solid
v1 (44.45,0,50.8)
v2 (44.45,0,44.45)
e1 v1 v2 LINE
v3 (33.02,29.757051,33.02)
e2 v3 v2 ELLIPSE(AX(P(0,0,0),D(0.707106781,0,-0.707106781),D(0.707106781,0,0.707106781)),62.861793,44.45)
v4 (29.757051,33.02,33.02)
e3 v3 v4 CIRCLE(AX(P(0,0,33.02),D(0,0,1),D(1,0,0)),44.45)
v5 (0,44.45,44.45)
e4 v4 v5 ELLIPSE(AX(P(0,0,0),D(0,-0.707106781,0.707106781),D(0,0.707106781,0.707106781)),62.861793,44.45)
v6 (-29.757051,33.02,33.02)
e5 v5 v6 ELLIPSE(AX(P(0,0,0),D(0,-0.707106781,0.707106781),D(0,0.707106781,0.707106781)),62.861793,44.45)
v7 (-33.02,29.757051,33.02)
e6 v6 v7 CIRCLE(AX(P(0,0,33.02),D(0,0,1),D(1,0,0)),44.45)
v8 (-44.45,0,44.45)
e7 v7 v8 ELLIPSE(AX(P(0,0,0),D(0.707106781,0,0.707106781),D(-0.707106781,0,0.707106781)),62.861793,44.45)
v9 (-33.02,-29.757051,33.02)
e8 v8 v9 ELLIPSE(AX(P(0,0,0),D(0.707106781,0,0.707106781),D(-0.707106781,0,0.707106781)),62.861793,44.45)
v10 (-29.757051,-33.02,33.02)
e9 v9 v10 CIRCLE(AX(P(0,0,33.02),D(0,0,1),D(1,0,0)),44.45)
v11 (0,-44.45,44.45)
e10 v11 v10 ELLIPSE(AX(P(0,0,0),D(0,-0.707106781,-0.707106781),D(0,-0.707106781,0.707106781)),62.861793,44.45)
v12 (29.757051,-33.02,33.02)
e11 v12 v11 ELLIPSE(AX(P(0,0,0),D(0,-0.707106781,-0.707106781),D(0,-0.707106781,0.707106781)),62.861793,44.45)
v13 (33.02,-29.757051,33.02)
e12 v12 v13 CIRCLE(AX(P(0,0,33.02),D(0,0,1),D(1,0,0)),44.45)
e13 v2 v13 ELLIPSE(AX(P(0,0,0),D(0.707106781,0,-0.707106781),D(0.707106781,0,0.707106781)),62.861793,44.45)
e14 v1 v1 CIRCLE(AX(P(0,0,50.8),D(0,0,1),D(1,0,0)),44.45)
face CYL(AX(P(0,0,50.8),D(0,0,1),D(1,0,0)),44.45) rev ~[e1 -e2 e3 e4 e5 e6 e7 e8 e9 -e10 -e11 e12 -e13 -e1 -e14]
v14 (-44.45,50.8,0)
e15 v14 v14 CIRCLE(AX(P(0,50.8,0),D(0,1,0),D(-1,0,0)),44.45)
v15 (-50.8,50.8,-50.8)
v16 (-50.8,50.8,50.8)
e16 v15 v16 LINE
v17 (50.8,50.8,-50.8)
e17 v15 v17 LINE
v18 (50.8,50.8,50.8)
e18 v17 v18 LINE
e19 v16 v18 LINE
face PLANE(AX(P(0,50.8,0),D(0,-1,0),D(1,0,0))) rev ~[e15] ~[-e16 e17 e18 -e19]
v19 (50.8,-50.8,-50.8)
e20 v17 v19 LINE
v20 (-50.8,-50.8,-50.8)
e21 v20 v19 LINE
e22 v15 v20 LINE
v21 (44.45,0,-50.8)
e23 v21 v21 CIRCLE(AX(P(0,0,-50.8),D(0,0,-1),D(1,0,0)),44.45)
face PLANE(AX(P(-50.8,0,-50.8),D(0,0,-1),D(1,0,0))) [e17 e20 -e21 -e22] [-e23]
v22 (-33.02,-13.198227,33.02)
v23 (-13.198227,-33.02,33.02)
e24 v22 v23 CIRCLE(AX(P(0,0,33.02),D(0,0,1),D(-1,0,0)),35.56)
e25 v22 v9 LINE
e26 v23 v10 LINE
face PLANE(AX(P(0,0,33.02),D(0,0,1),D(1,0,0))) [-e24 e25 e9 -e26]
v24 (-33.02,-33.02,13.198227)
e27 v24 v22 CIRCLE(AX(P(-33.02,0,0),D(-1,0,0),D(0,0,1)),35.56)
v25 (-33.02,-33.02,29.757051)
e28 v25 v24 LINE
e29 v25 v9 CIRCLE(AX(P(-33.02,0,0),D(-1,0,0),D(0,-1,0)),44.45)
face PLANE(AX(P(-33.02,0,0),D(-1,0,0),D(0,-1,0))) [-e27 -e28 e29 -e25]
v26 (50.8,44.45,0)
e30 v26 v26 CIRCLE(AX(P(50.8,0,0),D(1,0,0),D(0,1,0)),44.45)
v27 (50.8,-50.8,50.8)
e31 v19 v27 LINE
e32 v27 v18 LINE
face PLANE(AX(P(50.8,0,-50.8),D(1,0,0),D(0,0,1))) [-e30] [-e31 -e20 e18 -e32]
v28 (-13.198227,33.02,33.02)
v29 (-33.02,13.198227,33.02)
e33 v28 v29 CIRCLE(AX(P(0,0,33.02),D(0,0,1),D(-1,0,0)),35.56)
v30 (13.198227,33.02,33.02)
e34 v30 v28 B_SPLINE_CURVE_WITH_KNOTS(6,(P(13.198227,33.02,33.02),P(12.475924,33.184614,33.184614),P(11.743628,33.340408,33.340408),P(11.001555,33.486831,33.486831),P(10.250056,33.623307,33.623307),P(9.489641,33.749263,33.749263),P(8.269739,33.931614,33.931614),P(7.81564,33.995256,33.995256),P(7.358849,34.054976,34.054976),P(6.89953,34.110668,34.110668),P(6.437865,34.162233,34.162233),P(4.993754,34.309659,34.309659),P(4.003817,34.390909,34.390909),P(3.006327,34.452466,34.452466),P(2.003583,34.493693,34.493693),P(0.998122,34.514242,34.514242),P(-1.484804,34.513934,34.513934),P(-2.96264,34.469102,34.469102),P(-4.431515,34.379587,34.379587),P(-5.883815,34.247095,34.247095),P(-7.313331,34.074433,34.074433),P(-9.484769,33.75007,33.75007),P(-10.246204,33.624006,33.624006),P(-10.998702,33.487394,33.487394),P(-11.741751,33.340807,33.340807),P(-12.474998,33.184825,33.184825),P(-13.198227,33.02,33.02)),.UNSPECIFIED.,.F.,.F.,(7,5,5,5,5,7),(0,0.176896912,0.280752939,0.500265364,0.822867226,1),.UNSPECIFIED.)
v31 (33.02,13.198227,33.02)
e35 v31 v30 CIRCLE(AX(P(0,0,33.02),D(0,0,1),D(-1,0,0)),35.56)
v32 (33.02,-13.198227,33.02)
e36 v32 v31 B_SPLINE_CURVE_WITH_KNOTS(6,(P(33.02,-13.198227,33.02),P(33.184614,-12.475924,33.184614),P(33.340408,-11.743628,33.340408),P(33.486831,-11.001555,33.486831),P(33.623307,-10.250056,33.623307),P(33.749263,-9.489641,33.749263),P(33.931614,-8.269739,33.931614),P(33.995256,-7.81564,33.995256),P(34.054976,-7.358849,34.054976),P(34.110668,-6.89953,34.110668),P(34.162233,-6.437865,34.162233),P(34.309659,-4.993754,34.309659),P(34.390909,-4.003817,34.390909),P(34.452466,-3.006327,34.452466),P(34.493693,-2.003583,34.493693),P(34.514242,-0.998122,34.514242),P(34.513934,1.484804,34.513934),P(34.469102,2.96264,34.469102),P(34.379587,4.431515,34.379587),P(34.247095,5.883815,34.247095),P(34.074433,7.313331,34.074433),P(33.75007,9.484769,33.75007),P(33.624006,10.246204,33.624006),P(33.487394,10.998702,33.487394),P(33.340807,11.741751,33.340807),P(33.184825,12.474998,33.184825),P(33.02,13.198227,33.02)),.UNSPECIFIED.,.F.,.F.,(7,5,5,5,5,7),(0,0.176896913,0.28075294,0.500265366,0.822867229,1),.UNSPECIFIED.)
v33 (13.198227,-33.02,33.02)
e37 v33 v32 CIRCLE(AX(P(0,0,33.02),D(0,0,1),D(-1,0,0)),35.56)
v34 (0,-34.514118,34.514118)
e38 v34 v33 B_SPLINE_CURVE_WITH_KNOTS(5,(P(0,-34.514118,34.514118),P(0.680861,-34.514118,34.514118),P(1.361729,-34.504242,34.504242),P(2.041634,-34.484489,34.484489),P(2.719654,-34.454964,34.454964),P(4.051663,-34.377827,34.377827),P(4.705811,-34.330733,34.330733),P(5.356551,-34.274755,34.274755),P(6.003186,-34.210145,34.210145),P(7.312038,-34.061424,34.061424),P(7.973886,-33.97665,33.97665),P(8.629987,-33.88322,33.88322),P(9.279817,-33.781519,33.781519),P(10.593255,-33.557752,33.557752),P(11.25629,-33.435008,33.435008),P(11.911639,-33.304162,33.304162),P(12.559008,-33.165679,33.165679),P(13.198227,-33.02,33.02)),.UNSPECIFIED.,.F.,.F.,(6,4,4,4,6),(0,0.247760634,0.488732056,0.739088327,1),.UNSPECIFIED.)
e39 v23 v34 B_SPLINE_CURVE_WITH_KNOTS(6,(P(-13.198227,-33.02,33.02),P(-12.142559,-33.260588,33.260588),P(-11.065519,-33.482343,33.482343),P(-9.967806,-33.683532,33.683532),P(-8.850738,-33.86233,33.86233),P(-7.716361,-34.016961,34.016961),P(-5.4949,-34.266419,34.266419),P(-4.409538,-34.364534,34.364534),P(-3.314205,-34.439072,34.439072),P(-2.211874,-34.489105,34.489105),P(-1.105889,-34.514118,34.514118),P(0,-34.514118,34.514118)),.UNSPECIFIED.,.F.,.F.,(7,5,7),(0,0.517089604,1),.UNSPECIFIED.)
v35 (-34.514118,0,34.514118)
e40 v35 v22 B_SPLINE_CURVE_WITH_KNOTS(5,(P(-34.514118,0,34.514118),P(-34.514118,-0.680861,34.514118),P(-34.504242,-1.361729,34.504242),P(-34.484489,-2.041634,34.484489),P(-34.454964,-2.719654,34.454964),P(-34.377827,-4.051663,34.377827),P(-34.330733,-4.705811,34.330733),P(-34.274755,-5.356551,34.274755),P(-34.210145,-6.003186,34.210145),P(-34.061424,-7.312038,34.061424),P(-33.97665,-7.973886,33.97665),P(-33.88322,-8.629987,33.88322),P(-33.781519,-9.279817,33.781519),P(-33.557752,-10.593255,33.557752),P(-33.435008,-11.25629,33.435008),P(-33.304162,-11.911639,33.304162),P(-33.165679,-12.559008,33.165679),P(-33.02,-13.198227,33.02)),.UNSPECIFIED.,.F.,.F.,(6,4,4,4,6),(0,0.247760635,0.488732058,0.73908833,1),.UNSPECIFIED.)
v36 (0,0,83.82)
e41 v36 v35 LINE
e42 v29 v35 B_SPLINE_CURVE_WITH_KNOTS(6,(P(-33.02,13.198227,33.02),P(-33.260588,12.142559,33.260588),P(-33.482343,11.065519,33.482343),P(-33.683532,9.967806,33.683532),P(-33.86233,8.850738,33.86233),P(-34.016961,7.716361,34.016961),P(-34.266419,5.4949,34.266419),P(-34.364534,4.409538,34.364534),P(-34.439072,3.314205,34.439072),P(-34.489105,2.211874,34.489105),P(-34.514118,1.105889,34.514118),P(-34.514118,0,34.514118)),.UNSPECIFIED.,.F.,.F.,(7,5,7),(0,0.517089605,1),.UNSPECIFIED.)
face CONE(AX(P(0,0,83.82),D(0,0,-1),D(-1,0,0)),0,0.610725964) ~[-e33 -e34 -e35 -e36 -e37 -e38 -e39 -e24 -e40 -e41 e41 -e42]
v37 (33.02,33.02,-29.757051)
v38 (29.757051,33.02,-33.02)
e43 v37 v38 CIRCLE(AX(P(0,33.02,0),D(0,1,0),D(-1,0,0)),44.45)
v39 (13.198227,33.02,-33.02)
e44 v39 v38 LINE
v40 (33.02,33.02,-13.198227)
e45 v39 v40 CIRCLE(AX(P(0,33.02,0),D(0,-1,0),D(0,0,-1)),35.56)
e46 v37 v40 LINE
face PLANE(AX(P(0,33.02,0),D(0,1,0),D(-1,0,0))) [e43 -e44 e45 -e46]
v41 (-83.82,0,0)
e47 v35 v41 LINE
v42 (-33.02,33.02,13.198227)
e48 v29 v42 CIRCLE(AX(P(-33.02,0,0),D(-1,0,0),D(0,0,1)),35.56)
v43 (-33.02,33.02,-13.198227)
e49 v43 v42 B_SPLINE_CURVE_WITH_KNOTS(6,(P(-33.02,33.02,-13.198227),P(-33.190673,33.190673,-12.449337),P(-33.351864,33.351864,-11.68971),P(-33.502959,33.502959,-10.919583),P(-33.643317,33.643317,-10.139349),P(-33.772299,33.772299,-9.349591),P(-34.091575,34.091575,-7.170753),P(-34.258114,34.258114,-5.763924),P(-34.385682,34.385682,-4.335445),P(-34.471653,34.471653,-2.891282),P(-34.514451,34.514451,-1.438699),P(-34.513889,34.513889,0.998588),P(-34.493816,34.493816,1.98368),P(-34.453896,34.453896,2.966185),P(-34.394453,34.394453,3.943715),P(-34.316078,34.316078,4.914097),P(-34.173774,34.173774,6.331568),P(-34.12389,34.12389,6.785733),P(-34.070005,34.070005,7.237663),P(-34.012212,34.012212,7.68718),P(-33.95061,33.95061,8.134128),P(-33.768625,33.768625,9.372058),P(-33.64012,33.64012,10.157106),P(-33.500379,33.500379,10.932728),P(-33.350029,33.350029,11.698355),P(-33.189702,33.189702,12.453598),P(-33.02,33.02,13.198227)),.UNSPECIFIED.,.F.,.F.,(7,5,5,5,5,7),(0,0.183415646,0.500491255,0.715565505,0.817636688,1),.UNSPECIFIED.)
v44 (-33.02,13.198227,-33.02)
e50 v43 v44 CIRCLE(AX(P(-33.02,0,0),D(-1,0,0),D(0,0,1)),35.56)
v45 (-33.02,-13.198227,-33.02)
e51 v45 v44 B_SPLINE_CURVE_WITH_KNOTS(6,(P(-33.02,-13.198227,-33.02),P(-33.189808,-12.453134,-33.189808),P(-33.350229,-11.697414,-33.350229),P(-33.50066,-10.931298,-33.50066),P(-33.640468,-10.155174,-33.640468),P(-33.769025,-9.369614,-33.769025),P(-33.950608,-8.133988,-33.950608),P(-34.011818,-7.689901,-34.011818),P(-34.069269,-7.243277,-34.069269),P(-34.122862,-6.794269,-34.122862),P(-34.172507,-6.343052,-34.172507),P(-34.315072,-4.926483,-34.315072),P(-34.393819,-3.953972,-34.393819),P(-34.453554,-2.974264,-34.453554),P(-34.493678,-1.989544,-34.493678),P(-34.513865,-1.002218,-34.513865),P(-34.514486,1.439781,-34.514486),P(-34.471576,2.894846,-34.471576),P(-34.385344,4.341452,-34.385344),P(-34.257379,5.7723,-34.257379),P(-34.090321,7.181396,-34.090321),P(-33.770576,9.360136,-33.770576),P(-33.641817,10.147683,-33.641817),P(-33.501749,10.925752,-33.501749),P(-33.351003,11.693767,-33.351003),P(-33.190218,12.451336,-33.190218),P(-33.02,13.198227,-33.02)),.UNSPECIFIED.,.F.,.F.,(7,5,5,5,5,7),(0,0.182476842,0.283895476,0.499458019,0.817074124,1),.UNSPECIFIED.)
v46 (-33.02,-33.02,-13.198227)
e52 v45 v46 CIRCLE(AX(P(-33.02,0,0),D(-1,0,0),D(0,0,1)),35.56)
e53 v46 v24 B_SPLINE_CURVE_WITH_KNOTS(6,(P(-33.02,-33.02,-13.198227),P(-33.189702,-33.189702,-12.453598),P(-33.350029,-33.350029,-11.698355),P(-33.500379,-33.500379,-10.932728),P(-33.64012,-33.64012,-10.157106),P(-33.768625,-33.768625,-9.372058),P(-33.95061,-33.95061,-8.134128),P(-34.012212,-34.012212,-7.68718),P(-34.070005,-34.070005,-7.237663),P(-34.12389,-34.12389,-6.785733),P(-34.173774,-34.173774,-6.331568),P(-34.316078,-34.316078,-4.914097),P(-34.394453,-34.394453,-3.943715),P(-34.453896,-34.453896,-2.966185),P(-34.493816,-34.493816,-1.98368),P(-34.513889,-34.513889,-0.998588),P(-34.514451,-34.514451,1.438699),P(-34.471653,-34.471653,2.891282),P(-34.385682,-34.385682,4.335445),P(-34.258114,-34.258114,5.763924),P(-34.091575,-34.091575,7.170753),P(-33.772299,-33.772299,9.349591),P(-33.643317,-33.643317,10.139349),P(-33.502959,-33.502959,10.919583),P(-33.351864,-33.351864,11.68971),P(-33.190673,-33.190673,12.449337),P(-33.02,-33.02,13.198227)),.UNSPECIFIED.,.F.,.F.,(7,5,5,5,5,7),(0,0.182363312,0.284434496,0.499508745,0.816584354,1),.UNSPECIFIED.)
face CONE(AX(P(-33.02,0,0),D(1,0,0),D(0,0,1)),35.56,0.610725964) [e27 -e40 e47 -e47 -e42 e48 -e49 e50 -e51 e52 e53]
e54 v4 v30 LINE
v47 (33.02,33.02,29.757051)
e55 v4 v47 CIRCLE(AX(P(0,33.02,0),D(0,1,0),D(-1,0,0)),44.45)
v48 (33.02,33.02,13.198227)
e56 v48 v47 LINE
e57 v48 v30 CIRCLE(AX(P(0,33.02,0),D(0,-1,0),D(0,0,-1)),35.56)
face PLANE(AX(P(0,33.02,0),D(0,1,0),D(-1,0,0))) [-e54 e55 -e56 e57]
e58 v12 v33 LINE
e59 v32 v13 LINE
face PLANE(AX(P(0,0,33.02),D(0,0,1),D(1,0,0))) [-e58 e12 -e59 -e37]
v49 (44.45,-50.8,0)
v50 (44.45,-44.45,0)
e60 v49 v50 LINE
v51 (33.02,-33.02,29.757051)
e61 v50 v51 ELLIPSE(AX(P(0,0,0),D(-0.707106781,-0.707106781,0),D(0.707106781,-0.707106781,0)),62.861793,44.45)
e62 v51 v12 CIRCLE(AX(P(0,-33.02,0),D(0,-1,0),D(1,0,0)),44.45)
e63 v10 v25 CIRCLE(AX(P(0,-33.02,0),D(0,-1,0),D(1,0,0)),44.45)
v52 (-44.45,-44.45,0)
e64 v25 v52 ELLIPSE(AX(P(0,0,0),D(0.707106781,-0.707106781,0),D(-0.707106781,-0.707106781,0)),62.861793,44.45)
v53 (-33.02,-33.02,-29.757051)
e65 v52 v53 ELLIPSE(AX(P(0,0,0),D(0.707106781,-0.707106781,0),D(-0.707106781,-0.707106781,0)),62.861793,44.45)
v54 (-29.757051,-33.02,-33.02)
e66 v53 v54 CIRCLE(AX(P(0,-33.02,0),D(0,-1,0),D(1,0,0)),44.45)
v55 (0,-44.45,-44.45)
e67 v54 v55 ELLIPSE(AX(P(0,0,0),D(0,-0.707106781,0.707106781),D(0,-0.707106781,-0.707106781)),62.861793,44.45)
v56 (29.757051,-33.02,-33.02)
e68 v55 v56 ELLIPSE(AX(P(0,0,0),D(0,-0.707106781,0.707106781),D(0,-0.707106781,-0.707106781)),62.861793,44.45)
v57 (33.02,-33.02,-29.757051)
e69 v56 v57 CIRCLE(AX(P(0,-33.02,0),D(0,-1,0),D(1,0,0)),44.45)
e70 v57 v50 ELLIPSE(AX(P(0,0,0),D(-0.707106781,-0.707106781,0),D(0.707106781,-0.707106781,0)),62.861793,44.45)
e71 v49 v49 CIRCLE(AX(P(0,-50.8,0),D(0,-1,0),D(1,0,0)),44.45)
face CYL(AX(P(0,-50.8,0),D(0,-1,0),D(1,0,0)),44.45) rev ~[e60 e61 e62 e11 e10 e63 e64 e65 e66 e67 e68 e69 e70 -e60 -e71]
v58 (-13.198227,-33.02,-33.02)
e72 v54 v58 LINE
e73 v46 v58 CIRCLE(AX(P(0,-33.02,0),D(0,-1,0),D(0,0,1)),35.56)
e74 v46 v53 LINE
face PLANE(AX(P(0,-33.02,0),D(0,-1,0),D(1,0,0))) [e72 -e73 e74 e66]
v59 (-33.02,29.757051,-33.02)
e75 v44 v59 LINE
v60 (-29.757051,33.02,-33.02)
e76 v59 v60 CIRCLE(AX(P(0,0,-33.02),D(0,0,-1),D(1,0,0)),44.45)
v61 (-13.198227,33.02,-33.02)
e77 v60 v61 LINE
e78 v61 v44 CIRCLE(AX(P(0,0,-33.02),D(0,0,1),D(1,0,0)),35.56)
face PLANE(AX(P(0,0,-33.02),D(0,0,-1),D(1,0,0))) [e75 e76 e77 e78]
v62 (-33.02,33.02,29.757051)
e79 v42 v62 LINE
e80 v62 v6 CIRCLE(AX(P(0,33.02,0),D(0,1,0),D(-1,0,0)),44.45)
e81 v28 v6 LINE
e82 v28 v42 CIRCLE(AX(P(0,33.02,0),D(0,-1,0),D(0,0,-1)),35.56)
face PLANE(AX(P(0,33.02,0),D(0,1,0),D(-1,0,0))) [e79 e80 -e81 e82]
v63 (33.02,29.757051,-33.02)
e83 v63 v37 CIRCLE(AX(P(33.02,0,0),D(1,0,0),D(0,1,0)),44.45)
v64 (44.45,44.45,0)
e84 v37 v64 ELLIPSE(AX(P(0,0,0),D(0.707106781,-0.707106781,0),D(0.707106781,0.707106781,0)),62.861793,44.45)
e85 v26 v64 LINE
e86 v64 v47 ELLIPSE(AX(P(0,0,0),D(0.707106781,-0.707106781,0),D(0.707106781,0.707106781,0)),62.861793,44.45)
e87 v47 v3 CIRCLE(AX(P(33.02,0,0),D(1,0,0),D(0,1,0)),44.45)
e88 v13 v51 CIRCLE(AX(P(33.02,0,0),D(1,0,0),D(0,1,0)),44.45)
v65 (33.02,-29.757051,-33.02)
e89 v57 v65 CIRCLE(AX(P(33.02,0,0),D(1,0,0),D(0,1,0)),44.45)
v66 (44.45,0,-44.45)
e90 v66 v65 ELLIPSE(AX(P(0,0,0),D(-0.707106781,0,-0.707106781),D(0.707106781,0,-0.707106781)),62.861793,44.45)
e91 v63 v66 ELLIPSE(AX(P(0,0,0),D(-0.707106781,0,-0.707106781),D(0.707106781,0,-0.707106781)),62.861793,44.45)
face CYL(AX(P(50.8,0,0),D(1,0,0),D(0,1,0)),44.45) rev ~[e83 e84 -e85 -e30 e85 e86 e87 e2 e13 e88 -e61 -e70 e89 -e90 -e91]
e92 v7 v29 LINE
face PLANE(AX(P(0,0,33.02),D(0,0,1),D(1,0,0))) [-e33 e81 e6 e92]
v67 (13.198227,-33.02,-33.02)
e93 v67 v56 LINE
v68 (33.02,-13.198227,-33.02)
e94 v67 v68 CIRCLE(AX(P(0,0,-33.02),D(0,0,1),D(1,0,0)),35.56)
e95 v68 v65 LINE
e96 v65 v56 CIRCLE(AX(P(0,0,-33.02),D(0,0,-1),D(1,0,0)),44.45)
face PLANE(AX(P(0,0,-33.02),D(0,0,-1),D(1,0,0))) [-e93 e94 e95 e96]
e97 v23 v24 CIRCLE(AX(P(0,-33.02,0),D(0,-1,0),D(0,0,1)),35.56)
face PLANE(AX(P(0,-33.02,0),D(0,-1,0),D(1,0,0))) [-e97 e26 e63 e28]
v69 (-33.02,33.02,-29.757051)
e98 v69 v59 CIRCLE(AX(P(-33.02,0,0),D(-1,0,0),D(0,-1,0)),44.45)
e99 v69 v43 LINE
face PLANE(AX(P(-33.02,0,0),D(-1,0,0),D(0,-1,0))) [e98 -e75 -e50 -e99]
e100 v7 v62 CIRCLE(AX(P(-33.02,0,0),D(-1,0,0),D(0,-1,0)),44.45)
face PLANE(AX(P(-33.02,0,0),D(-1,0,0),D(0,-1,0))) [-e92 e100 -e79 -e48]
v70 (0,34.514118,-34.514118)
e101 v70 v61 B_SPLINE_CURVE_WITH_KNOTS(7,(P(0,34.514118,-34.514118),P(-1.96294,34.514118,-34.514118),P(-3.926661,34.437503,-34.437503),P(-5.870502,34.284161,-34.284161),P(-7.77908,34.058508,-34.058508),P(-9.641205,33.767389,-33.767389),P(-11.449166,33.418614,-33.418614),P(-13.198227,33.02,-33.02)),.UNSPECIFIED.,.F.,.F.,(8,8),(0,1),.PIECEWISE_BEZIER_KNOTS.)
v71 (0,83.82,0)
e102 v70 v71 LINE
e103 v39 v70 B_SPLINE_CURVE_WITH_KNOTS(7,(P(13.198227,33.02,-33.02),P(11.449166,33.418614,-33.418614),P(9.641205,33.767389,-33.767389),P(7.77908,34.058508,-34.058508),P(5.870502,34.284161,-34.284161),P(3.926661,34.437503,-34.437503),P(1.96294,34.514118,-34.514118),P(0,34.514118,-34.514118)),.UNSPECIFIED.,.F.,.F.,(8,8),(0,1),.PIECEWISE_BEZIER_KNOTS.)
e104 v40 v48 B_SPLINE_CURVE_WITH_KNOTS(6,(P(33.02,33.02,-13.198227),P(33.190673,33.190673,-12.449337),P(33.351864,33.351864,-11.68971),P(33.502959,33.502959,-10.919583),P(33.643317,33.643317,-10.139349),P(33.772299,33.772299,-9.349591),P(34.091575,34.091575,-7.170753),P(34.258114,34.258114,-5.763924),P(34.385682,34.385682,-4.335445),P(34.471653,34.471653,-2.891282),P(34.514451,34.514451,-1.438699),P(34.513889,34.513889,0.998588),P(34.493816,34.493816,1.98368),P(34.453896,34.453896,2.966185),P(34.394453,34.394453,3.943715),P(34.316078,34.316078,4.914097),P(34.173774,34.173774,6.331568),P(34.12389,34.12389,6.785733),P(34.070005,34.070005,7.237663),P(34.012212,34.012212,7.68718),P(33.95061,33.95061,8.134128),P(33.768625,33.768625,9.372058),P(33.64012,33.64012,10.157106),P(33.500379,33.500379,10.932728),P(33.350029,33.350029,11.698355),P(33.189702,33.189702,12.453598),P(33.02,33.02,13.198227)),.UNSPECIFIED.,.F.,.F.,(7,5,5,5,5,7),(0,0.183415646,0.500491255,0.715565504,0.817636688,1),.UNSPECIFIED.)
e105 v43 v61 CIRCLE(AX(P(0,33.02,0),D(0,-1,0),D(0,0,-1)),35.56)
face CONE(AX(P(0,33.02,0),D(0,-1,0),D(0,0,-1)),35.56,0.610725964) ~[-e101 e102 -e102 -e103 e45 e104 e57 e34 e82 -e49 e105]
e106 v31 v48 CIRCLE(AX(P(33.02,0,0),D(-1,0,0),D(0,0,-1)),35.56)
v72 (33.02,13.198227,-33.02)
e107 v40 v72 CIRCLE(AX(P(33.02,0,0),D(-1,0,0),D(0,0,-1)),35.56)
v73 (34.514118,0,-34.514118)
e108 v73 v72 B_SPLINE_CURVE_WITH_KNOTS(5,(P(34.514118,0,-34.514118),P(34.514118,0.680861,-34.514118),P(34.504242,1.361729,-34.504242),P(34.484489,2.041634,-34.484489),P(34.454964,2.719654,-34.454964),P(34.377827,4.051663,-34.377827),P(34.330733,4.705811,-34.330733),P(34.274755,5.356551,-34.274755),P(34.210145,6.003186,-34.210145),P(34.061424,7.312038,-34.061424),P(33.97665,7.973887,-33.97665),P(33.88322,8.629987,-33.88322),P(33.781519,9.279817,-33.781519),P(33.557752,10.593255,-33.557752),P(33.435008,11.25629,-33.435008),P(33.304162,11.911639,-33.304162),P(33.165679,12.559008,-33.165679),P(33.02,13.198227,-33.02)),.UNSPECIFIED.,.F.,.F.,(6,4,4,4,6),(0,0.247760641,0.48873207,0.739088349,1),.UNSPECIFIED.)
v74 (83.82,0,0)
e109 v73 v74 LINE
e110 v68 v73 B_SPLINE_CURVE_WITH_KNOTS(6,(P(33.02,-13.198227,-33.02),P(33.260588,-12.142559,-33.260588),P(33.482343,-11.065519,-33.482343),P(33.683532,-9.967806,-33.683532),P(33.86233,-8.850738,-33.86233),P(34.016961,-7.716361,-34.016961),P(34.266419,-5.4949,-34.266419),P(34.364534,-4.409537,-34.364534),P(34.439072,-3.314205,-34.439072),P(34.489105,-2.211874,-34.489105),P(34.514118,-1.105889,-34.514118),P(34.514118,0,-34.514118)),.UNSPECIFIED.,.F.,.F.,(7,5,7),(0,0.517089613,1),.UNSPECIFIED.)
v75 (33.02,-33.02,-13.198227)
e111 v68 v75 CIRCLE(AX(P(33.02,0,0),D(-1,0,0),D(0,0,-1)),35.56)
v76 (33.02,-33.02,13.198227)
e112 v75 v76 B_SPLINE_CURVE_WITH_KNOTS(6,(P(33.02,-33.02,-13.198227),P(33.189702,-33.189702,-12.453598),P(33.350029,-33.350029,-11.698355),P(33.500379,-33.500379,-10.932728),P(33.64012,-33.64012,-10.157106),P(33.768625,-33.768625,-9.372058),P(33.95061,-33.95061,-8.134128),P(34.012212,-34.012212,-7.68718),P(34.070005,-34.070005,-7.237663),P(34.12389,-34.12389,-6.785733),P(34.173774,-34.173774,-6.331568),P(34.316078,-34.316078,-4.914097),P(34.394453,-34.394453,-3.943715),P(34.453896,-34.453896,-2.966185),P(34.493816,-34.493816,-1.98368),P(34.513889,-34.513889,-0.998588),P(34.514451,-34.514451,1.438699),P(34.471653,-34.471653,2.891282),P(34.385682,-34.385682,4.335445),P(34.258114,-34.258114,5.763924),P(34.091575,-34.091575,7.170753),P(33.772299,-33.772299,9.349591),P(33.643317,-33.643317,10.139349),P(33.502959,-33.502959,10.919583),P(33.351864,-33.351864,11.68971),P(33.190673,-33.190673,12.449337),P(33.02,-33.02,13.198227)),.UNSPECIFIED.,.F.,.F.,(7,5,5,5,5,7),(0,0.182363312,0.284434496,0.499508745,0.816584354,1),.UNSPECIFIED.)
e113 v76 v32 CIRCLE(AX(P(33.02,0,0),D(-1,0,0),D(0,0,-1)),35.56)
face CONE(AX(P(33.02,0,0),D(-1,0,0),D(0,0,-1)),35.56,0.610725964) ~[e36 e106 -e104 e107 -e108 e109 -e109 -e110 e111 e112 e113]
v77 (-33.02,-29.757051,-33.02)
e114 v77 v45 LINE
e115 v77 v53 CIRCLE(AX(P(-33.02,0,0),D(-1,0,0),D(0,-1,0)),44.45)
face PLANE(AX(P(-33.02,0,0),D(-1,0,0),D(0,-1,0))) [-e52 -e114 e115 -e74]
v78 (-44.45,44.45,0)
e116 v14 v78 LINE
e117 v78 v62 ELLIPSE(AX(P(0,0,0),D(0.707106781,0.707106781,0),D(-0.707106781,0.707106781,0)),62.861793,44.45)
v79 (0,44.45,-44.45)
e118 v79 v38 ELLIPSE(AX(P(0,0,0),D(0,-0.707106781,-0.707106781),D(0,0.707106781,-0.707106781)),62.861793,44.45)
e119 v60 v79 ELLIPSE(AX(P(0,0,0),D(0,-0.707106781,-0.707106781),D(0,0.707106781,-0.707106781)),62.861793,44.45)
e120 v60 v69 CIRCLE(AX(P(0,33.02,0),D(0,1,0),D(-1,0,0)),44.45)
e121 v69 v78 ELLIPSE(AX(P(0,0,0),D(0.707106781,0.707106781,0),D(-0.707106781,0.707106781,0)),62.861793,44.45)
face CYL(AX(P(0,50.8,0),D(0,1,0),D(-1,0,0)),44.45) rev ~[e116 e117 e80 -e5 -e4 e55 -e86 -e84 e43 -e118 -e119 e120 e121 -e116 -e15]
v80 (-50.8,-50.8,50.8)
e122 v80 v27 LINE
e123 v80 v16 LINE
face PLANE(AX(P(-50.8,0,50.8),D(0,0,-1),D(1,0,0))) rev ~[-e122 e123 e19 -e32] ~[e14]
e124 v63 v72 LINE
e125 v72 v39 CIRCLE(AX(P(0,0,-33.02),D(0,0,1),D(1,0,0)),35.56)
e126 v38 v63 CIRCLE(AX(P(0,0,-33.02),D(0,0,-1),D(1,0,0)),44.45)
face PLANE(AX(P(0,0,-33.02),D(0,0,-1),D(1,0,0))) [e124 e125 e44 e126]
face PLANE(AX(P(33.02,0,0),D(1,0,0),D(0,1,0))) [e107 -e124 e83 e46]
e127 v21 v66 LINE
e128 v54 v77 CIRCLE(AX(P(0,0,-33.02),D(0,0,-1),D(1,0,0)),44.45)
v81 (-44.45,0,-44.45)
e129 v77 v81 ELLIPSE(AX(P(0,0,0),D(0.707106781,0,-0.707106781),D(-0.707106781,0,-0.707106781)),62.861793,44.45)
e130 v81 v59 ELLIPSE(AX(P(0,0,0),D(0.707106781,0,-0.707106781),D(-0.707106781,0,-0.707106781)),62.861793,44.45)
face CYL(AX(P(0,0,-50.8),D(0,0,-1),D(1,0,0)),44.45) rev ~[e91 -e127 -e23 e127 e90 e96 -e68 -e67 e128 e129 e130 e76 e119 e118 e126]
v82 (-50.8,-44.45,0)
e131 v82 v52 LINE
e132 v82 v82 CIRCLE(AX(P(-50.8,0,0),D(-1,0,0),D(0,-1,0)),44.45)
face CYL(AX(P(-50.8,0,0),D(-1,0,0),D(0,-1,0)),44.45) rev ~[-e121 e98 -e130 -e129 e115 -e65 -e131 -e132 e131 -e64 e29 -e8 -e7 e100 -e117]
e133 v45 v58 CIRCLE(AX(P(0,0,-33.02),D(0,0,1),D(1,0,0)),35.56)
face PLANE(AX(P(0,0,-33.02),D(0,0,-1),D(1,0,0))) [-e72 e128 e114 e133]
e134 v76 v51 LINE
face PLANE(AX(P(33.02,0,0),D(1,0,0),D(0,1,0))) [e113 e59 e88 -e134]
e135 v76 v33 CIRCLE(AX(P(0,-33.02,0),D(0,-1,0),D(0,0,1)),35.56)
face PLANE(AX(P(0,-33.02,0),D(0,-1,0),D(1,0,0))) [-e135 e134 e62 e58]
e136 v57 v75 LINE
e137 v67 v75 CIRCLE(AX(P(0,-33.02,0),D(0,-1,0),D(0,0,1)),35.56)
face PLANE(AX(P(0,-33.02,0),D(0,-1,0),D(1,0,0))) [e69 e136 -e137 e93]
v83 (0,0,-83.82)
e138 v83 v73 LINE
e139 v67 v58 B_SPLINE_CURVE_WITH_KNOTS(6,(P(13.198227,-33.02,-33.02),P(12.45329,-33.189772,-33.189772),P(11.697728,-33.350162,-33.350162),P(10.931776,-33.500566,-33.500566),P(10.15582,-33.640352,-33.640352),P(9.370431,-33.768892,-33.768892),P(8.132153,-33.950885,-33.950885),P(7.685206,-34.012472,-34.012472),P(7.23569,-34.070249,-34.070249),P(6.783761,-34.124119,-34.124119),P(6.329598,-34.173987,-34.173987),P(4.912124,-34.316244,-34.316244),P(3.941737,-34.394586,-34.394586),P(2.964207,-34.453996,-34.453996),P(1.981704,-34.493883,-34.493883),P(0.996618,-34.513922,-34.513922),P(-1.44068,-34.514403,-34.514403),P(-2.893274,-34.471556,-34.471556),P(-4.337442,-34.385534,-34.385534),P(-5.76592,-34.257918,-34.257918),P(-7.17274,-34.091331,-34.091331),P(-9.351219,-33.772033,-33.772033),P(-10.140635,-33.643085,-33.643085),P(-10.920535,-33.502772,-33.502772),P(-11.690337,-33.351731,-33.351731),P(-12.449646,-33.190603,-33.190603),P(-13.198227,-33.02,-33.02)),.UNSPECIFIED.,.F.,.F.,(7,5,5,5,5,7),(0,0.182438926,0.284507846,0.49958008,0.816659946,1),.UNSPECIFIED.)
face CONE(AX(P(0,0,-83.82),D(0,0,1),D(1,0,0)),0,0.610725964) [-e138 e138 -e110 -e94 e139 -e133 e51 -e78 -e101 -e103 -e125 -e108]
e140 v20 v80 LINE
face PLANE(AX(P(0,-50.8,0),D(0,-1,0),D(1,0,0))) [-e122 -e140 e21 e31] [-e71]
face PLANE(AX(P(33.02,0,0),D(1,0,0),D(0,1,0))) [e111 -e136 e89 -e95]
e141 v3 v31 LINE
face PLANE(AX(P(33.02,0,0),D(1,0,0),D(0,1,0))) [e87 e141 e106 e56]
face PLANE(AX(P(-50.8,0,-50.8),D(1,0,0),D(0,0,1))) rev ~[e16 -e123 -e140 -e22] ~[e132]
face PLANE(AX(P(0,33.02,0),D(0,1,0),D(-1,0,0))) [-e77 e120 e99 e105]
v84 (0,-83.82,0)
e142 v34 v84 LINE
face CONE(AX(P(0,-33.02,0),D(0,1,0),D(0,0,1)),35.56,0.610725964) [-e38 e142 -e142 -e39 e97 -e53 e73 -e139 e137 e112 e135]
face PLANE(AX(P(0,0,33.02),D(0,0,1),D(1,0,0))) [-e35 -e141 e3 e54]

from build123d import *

# Parameters (mm, degrees)
F0_W      = 101.6
F0_H      = 101.6
F1_DEPTH  = 50.8
F2_R      = 44.45
F3_DEPTH  = 17.78
F4_R      = 44.45
F5_DEPTH  = 17.78
F6_R      = 44.45
F7_DEPTH  = 17.78
F8_R      = 44.45
F9_DEPTH  = 17.78
F10_R     = 44.45
F11_DEPTH = 17.78
F12_R     = 44.45
F13_DEPTH = 17.78


with BuildPart() as f1:
    # F0 (on Front) → F1 (new body, symmetric)
    with BuildSketch(Plane.XZ):
        Rectangle(F0_W, F0_H)
    extrude(amount=F1_DEPTH, both=True)

    # F2 (on face) → F3 (cut)
    with BuildSketch(Plane.XZ.offset(50.8)):
        Circle(F2_R)
    extrude(amount=-F3_DEPTH, mode=Mode.SUBTRACT)

    # F4 (on face) → F5 (cut)
    with BuildSketch(Plane(origin=(0, 0, -50.8), x_dir=(1, 0, 0), z_dir=(0, 0, -1))):
        Circle(F4_R)
    extrude(amount=-F5_DEPTH, mode=Mode.SUBTRACT)

    # F6 (on face) → F7 (cut)
    with BuildSketch(Plane.YZ.offset(50.8)):
        Circle(F6_R)
    extrude(amount=-F7_DEPTH, mode=Mode.SUBTRACT)

    # F8 (on face) → F9 (cut)
    with BuildSketch(Plane.XY.offset(50.8)):
        Circle(F8_R)
    extrude(amount=-F9_DEPTH, mode=Mode.SUBTRACT)

    # F10 (on face) → F11 (cut)
    with BuildSketch(Plane(origin=(0, 50.8, 0), x_dir=(-1, 0, 0), z_dir=(0, 1, 0))):
        Circle(F10_R)
    extrude(amount=-F11_DEPTH, mode=Mode.SUBTRACT)

    # F12 (on face) → F13 (cut)
    with BuildSketch(Plane(origin=(-50.8, 0, 0), x_dir=(0, -1, 0), z_dir=(-1, 0, 0))):
        Circle(F12_R)
    extrude(amount=-F13_DEPTH, mode=Mode.SUBTRACT)

    # F14 (on Front) → F15 (revolve)
    with BuildSketch(Plane.XZ):
        Polygon((-35.56, 33.02), (0, 33.02), (0, 83.82), align=None)
        Polygon((35.56, -33.02), (0, -33.02), (0, -83.82), align=None)
    revolve(axis=Axis((0, 0, -58.42), (0, 0, 1)))

    # F16 (on Front) → F17 (revolve)
    with BuildSketch(Plane.XZ):
        Polygon((-83.82, 0), (-33.02, 0), (-33.02, 35.56), align=None)
        Polygon((83.82, 0), (33.02, 0), (33.02, -35.56), align=None)
    revolve(axis=Axis((58.42, 0, 0), (-1, 0, 0)))

    # F18 (on Right) → F19 (revolve)
    with BuildSketch(Plane.YZ):
        Polygon((-83.82, 0), (-33.02, 0), (-33.02, 35.56), align=None)
        Polygon((83.82, 0), (33.02, 0), (33.02, -35.56), align=None)
    revolve(axis=Axis((0, 58.42, 0), (0, -1, 0)))


solid = f1.part
